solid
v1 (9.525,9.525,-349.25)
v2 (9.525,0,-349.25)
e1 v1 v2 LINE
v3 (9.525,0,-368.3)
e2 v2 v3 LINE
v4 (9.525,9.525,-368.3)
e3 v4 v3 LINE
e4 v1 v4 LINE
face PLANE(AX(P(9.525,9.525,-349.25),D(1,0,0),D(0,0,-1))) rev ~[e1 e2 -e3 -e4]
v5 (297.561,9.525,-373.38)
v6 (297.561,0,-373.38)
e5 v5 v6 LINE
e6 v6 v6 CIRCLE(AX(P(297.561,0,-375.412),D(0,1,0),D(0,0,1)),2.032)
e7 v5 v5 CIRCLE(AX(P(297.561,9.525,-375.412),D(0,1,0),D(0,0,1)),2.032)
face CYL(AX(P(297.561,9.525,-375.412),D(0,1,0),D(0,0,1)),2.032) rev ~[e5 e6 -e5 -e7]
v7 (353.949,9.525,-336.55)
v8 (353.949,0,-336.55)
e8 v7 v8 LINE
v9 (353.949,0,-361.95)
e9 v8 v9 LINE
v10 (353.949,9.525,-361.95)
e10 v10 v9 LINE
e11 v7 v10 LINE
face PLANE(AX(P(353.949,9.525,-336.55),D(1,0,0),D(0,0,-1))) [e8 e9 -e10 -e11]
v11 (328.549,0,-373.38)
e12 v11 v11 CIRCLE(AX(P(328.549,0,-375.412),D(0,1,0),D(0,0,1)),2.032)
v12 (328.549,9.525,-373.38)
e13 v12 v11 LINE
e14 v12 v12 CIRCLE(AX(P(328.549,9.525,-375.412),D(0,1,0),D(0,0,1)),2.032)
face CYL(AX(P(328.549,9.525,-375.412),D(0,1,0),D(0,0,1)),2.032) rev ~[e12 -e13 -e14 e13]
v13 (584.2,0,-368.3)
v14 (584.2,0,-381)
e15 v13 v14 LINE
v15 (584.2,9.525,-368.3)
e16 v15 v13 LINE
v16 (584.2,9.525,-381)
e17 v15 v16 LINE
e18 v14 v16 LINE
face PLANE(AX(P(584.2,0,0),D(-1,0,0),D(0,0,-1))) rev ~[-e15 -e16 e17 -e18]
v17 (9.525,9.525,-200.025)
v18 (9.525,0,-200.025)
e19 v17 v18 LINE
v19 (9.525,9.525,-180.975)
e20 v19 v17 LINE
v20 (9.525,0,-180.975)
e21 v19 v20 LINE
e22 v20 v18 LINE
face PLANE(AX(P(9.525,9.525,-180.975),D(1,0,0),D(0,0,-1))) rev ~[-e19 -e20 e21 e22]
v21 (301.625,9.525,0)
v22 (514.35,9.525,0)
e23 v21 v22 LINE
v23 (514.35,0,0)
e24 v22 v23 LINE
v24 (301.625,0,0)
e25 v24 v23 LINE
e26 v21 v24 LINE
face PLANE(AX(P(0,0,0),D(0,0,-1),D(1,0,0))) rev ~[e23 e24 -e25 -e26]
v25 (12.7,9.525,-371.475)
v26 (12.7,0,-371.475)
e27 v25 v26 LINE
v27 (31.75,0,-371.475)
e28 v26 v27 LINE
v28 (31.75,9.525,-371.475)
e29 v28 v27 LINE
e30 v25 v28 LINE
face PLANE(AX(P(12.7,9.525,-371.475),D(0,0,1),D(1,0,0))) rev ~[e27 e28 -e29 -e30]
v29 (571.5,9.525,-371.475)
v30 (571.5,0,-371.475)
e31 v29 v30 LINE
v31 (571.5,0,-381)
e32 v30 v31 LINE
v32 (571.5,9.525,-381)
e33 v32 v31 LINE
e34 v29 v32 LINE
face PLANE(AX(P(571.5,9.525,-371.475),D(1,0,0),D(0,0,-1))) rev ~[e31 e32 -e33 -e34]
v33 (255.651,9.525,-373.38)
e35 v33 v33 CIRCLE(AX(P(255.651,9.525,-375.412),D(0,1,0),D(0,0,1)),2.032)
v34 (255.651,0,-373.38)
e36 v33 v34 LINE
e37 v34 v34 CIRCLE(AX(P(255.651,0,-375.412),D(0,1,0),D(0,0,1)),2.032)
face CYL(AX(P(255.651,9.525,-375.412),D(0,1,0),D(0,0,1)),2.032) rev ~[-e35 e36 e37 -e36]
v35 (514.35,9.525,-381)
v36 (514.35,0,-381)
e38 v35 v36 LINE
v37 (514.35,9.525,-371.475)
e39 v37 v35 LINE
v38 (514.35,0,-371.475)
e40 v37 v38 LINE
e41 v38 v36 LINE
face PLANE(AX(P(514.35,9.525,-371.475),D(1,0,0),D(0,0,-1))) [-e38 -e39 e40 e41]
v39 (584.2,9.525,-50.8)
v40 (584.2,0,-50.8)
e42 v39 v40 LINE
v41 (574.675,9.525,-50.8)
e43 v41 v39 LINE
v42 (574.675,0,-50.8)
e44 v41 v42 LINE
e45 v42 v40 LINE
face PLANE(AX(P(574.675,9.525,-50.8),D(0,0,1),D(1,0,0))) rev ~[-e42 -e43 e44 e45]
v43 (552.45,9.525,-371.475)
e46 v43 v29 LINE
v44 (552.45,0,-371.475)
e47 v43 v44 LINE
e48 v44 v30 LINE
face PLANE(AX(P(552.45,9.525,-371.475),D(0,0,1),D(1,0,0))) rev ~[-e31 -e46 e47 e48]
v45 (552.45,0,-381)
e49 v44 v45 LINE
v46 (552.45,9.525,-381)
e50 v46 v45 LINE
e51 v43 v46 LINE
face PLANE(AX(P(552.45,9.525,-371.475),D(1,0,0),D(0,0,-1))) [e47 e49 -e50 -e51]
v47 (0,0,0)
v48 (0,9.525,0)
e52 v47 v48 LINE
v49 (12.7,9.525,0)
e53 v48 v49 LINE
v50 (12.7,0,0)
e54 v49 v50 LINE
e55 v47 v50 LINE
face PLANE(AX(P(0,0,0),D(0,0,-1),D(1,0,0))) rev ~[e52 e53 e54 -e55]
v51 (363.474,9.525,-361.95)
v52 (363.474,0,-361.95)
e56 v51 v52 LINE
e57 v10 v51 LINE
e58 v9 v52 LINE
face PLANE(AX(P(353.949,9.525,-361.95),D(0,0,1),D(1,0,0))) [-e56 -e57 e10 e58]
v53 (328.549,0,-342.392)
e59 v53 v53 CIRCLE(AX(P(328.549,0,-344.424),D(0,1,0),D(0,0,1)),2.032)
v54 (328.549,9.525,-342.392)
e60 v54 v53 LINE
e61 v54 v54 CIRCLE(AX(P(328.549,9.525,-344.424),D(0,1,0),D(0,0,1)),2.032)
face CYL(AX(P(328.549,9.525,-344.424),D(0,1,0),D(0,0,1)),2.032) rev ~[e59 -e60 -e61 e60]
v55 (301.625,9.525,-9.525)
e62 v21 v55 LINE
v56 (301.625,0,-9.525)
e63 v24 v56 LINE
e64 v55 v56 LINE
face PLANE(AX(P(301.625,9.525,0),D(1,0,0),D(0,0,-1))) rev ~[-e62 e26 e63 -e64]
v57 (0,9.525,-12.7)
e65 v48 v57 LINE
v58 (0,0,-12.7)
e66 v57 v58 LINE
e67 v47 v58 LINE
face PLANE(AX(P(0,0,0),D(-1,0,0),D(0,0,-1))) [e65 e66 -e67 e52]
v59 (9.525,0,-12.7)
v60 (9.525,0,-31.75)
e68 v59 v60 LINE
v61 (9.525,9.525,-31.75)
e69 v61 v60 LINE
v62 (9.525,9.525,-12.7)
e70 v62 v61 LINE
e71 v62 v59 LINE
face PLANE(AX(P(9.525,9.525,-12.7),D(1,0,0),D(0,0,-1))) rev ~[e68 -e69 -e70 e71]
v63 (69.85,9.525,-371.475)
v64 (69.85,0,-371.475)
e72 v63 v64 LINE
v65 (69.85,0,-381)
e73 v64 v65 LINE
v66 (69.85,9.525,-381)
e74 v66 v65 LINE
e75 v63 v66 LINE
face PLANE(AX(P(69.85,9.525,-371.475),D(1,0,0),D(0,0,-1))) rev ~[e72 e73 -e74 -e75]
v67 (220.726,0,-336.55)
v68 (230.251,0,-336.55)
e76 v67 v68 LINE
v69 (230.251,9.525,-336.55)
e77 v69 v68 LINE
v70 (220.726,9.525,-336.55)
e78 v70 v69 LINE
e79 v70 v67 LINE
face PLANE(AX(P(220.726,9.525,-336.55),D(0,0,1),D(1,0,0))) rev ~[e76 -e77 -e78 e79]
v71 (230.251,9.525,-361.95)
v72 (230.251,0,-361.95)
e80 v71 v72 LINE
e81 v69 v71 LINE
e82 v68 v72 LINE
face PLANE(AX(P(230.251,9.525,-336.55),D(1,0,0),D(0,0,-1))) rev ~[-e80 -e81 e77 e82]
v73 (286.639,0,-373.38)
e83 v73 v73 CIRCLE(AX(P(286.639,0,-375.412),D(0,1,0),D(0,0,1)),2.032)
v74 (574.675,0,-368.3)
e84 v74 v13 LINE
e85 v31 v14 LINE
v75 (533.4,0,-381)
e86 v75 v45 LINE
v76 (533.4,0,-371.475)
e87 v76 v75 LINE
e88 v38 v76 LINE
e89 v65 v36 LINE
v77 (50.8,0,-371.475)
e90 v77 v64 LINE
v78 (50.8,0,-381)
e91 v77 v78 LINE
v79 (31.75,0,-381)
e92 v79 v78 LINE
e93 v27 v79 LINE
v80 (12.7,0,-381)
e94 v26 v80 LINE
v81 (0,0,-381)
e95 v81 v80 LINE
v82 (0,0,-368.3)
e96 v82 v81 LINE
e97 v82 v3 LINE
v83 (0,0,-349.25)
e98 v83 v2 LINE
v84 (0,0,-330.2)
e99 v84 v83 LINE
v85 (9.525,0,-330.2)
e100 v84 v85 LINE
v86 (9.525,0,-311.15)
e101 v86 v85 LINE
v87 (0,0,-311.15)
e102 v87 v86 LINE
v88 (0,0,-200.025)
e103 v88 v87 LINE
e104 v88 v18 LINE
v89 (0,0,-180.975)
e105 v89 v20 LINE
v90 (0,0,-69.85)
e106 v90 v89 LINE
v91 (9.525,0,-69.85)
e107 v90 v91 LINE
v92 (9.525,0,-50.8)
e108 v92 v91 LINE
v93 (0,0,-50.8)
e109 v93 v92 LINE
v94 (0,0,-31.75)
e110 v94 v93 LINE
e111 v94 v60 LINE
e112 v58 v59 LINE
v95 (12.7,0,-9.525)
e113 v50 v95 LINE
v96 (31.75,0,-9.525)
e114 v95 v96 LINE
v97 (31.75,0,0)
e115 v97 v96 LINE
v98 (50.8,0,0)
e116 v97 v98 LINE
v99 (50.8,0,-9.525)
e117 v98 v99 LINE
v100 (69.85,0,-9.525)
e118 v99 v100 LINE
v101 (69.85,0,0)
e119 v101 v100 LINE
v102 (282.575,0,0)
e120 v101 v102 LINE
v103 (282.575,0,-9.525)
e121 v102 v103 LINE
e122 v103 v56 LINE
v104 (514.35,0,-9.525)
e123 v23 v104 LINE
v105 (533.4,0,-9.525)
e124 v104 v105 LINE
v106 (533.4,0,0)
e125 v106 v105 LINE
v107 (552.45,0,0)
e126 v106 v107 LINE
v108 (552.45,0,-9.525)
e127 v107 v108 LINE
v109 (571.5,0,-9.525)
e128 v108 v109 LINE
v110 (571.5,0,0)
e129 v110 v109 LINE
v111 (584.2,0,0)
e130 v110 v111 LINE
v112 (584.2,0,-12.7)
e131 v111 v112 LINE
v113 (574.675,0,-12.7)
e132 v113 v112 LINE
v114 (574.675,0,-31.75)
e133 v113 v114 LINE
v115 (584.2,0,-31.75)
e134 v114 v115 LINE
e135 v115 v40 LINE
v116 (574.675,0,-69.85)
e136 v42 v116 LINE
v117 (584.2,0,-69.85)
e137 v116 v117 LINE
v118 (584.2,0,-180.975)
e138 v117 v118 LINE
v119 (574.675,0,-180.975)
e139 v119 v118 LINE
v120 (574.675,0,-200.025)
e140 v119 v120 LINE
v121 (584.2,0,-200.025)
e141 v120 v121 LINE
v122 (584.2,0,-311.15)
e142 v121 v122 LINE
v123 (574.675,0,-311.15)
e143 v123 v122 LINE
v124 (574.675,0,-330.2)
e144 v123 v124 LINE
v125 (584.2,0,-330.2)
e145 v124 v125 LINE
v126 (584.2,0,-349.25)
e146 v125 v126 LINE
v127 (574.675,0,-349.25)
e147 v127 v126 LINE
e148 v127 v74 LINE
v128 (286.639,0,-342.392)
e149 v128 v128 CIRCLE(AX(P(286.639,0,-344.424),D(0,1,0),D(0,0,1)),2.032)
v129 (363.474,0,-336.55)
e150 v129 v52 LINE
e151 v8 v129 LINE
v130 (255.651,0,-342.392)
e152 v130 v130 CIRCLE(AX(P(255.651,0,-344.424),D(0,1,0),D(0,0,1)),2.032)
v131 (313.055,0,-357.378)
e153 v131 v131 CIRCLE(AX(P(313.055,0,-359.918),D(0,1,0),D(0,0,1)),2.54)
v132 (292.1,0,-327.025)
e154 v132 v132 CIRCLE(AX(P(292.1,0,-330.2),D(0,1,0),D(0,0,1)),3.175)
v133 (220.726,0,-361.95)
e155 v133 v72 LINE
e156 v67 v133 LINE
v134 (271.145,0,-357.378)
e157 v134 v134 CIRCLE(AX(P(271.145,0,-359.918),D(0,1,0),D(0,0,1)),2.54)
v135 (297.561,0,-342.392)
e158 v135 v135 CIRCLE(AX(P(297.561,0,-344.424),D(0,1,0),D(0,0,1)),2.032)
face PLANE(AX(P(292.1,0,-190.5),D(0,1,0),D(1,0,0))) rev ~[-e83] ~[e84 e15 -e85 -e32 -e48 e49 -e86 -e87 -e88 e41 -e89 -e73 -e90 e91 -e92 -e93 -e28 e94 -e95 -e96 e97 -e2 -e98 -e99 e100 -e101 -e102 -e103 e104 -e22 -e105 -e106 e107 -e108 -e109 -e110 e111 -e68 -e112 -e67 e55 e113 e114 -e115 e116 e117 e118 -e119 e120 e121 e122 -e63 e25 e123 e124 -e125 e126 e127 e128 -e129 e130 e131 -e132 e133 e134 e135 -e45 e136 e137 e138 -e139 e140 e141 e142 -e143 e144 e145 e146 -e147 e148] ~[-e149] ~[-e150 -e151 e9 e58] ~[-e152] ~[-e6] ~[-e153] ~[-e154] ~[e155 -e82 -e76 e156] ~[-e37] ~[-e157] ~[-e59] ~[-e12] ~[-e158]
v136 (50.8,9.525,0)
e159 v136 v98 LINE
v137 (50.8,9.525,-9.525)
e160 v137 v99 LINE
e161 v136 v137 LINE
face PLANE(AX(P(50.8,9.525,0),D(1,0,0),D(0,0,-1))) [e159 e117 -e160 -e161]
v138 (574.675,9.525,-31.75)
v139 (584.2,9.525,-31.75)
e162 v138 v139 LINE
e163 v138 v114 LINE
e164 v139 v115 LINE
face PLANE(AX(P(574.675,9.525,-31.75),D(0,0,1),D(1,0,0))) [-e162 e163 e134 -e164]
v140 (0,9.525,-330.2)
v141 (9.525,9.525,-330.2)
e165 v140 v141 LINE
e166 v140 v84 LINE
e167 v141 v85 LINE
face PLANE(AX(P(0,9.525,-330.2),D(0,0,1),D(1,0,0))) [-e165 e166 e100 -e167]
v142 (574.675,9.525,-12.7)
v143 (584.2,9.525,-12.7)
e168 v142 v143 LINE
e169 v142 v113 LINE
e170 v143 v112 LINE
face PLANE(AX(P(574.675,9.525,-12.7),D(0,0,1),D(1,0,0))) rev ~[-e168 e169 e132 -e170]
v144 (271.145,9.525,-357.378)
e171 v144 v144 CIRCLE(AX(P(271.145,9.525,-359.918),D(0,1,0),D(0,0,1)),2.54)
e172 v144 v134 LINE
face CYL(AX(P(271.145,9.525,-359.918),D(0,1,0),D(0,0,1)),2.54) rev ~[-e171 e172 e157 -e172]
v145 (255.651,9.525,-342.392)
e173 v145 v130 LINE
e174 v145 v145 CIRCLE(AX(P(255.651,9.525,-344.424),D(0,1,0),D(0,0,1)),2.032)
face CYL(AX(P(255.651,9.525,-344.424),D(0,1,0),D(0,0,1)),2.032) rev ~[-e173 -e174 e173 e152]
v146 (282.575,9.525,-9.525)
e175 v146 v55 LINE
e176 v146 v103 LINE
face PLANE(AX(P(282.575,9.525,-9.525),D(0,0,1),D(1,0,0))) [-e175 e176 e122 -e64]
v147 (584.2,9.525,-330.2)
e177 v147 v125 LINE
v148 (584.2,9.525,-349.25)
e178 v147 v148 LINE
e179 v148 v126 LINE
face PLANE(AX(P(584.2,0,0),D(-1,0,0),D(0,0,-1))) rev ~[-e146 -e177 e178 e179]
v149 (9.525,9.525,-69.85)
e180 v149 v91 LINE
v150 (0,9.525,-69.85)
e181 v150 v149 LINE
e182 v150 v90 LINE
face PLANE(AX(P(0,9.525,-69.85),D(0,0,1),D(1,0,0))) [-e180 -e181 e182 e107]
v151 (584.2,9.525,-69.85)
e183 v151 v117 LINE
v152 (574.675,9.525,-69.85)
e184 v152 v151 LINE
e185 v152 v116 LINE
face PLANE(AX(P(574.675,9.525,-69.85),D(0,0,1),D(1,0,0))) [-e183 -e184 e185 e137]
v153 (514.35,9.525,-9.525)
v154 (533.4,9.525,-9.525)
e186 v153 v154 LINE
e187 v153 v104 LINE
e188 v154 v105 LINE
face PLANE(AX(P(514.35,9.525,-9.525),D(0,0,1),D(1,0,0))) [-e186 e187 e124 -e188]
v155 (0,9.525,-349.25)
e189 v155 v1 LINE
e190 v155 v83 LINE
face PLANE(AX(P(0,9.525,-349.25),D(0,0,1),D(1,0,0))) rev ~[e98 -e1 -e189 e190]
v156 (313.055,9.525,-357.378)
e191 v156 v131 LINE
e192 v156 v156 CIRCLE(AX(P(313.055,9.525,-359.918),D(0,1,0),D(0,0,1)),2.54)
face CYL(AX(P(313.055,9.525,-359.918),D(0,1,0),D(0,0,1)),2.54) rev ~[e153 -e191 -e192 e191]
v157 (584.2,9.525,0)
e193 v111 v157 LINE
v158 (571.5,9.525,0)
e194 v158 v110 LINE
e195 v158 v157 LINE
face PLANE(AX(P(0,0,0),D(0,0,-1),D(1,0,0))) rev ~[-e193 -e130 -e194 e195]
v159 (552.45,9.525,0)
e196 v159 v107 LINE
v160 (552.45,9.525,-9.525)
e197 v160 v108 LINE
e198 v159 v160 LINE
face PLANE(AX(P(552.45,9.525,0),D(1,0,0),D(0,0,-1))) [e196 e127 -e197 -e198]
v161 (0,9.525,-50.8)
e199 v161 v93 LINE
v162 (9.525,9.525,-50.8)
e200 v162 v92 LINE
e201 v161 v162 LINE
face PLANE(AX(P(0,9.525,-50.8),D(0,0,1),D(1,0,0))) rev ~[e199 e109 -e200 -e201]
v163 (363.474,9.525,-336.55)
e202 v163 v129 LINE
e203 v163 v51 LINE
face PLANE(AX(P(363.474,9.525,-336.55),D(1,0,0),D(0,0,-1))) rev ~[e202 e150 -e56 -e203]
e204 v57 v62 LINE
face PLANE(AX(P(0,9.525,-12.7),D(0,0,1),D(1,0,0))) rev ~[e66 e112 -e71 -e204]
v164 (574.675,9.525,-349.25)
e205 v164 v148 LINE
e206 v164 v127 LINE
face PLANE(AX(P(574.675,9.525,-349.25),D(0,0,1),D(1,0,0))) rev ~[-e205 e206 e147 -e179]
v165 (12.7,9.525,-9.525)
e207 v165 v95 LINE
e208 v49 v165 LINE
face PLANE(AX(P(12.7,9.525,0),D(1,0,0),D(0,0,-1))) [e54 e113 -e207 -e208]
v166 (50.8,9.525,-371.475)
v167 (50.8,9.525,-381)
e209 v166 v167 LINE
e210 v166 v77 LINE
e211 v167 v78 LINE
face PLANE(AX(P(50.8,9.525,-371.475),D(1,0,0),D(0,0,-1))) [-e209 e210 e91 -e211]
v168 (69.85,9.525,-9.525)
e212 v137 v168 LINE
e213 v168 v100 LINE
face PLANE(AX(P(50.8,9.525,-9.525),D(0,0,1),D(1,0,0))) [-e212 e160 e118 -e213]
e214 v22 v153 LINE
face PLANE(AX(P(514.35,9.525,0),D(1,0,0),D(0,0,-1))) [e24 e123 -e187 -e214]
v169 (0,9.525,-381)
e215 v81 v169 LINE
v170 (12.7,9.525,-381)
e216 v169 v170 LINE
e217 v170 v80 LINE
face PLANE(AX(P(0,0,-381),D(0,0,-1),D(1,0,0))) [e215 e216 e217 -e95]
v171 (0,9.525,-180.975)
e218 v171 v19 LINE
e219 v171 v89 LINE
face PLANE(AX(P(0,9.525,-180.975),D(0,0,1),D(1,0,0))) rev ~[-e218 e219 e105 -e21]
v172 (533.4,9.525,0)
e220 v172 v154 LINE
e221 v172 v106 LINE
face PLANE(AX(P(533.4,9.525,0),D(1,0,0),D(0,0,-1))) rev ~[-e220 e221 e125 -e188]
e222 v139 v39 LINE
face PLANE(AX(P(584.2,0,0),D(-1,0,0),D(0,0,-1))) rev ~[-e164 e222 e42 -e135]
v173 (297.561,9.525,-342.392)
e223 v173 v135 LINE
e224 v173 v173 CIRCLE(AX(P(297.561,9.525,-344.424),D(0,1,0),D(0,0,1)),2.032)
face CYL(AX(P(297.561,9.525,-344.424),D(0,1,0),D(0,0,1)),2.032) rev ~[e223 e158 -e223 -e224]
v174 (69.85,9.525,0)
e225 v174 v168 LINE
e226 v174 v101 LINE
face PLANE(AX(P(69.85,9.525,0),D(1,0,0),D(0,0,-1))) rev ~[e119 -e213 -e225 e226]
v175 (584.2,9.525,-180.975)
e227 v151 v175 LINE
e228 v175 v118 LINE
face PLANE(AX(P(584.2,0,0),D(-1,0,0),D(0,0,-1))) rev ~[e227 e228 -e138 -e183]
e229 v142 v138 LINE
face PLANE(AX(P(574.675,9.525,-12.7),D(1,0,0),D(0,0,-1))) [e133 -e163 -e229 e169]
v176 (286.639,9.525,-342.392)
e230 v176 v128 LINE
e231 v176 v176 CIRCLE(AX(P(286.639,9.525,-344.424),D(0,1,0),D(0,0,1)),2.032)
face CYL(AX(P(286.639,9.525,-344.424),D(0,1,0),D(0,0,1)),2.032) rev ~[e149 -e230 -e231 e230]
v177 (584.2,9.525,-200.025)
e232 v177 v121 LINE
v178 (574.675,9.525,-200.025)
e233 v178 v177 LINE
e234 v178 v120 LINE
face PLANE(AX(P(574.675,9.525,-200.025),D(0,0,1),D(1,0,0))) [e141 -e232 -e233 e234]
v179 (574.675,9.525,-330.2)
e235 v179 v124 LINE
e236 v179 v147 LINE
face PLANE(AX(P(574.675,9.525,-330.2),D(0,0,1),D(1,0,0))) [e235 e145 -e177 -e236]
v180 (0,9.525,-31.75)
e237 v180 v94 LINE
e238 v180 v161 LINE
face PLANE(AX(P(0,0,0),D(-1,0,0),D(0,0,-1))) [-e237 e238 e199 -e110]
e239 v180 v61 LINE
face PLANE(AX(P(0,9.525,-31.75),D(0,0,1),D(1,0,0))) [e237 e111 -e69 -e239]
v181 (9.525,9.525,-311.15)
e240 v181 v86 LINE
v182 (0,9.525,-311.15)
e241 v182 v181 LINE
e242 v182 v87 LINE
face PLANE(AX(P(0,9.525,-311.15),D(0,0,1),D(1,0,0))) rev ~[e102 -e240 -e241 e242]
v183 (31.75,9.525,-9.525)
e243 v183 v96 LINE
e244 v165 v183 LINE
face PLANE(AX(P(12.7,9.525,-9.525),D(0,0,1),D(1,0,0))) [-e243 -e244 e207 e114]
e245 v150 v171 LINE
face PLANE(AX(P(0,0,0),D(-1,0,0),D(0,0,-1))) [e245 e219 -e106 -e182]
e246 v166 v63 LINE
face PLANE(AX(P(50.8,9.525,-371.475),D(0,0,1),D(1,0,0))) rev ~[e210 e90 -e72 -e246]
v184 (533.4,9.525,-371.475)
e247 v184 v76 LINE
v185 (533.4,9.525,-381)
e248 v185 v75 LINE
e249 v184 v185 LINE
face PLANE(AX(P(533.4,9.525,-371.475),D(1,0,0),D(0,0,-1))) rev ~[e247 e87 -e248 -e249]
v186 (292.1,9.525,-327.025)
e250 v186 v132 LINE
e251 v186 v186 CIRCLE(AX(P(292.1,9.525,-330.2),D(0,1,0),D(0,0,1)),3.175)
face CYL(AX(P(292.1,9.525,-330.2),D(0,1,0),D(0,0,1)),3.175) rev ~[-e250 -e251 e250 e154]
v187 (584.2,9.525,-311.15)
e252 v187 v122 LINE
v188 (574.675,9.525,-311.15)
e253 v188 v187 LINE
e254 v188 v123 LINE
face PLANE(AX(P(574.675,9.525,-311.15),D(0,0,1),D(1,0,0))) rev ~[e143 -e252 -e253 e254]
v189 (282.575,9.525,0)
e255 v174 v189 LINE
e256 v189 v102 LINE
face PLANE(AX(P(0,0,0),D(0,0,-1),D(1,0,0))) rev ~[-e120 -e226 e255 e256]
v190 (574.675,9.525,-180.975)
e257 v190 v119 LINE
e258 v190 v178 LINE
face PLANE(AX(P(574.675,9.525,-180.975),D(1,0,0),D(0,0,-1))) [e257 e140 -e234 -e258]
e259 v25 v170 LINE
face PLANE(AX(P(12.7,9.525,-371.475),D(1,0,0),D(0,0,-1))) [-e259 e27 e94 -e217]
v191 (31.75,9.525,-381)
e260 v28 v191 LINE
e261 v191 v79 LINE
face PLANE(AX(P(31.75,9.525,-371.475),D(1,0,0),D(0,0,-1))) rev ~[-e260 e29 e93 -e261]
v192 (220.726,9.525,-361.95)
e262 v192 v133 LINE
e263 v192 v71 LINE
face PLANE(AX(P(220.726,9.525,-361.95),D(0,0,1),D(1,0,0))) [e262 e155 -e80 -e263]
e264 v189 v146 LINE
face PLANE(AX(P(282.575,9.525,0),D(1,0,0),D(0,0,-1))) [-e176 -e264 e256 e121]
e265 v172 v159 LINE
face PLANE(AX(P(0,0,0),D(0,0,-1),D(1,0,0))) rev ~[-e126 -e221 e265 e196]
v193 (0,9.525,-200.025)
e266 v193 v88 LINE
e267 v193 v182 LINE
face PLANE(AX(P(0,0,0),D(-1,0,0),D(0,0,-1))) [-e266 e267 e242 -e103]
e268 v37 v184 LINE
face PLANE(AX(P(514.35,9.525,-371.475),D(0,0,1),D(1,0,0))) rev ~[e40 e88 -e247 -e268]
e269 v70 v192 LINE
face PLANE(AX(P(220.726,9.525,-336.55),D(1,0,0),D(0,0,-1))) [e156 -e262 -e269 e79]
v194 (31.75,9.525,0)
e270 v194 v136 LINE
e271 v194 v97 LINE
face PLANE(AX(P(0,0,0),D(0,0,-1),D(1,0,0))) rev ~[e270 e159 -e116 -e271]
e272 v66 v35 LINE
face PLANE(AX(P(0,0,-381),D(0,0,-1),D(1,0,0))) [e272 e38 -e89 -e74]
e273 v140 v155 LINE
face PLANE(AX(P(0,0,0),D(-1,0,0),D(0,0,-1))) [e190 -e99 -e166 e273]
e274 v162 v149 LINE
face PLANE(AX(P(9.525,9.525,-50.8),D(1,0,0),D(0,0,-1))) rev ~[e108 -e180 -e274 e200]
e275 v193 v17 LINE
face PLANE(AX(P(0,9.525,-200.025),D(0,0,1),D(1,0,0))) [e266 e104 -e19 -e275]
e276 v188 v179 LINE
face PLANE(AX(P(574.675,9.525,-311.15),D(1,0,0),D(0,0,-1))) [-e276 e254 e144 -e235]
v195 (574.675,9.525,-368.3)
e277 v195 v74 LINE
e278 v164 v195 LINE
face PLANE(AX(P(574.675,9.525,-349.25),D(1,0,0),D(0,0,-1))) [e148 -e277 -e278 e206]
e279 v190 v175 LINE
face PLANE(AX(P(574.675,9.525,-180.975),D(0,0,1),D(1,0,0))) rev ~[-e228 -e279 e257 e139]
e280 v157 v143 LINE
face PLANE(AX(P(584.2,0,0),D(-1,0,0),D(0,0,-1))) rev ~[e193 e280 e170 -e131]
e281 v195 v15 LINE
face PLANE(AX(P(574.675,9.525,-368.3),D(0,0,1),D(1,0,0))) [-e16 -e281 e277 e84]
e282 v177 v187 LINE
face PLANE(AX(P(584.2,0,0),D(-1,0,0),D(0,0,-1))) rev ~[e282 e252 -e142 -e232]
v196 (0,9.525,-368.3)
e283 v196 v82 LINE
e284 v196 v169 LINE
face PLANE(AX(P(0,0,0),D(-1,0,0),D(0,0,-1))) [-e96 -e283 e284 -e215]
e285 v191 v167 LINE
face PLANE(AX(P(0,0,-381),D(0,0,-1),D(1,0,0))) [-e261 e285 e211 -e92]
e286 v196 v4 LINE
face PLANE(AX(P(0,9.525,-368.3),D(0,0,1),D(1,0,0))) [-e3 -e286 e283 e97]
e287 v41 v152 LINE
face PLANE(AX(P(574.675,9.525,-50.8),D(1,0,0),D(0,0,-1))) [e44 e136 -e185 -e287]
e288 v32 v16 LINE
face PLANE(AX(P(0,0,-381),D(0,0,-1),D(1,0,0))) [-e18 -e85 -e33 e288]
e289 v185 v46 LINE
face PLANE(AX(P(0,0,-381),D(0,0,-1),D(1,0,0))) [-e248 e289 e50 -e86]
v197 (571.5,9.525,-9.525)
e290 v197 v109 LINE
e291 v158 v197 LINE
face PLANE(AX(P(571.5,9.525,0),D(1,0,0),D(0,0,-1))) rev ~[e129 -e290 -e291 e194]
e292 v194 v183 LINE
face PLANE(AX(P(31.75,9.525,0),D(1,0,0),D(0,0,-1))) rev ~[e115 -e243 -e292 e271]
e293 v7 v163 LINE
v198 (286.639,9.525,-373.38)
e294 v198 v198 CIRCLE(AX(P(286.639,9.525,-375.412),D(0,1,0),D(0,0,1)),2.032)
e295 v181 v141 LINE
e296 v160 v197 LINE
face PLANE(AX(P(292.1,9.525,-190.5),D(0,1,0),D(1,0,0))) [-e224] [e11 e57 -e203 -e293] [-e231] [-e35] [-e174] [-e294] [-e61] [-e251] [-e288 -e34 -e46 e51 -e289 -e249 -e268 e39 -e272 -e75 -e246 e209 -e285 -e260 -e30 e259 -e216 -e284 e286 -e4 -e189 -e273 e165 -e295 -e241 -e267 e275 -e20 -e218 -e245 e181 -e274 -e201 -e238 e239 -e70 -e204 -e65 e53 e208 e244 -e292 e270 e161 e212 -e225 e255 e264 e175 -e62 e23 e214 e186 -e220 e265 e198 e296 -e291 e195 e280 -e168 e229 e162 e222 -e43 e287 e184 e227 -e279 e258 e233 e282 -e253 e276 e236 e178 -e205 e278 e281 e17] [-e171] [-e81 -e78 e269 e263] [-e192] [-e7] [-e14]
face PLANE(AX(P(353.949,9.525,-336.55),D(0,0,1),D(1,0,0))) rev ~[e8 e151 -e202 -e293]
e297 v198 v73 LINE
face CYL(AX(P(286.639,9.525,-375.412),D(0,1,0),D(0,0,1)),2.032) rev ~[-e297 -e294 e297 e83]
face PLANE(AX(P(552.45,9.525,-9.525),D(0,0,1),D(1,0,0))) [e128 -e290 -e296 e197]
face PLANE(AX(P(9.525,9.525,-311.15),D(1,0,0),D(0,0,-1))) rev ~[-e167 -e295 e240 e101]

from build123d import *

# Parameters (mm, degrees)
SKETCH1_W           = 584.2
SKETCH1_H           = 381
BOSS_EXTRUDE1_DEPTH = 9.525
SKETCH2_W           = 9.525
SKETCH2_H           = 19.05
SKETCH2_W_2         = 19.05
SKETCH2_H_2         = 9.525
CUT_EXTRUDE1_DEPTH  = 698.525172037
SKETCH3_R           = 2.032
SKETCH3_R_2         = 2.54
SKETCH3_R_3         = 3.175
SKETCH3_W           = 9.525
SKETCH3_H           = 25.4
CUT_EXTRUDE2_DEPTH  = 698.525172037


with BuildPart() as part:
    # Sketch1 → Boss-Extrude1 (new body)
    with BuildSketch(Plane(origin=(0, 0, 0), x_dir=(1, 0, 0), z_dir=(0, 1, 0))):
        with Locations((292.1, 190.5)):
            Rectangle(SKETCH1_W, SKETCH1_H)
    extrude(amount=BOSS_EXTRUDE1_DEPTH)

    # Sketch2 → Cut-Extrude1 (cut, through all)
    with BuildSketch(Plane(origin=(0, 9.525, 0), x_dir=(1, 0, 0), z_dir=(0, 1, 0))):
        with Locations((4.7625, 358.775)):
            Rectangle(SKETCH2_W, SKETCH2_H)
        with Locations((22.225, 376.2375)):
            Rectangle(SKETCH2_W_2, SKETCH2_H_2)
        with Locations((561.975, 376.2375)):
            Rectangle(SKETCH2_W_2, SKETCH2_H_2)
        with Locations((579.4375, 358.775)):
            Rectangle(SKETCH2_W, SKETCH2_H)
        with Locations((579.4375, 22.225)):
            Rectangle(SKETCH2_W, SKETCH2_H)
        with Locations((561.975, 4.7625)):
            Rectangle(SKETCH2_W_2, SKETCH2_H_2)
        with Locations((4.7625, 22.225)):
            Rectangle(SKETCH2_W, SKETCH2_H)
        with Locations((22.225, 4.7625)):
            Rectangle(SKETCH2_W_2, SKETCH2_H_2)
        with Locations((292.1, 4.7625)):
            Rectangle(SKETCH2_W_2, SKETCH2_H_2)
        with Locations((4.7625, 190.5)):
            Rectangle(SKETCH2_W, SKETCH2_H)
        with Locations((579.4375, 190.5)):
            Rectangle(SKETCH2_W, SKETCH2_H)
        with Locations((60.325, 376.2375)):
            Rectangle(SKETCH2_W_2, SKETCH2_H_2)
        with Locations((4.7625, 320.675)):
            Rectangle(SKETCH2_W, SKETCH2_H)
        with Locations((523.875, 376.2375)):
            Rectangle(SKETCH2_W_2, SKETCH2_H_2)
        with Locations((579.4375, 320.675)):
            Rectangle(SKETCH2_W, SKETCH2_H)
        with Locations((579.4375, 60.325)):
            Rectangle(SKETCH2_W, SKETCH2_H)
        with Locations((523.875, 4.7625)):
            Rectangle(SKETCH2_W_2, SKETCH2_H_2)
        with Locations((4.7625, 60.325)):
            Rectangle(SKETCH2_W, SKETCH2_H)
        with Locations((60.325, 4.7625)):
            Rectangle(SKETCH2_W_2, SKETCH2_H_2)
    extrude(amount=-CUT_EXTRUDE1_DEPTH, mode=Mode.SUBTRACT)

    # Sketch3 → Cut-Extrude2 (cut, through all)
    with BuildSketch(Plane(origin=(0, 9.525, 0), x_dir=(1, 0, 0), z_dir=(0, 1, 0))):
        with Locations(Location((255.651, 375.412, 0), (0, 0, 270))):
            Circle(SKETCH3_R)
        with Locations(Location((328.549, 375.412, 0), (0, 0, 270))):
            Circle(SKETCH3_R)
        with Locations(Location((286.639, 375.412, 0), (0, 0, 270))):
            Circle(SKETCH3_R)
        with Locations(Location((297.561, 375.412, 0), (0, 0, 270))):
            Circle(SKETCH3_R)
        with Locations(Location((255.651, 344.424, 0), (0, 0, 270))):
            Circle(SKETCH3_R)
        with Locations(Location((286.639, 344.424, 0), (0, 0, 270))):
            Circle(SKETCH3_R)
        with Locations(Location((297.561, 344.424, 0), (0, 0, 270))):
            Circle(SKETCH3_R)
        with Locations(Location((328.549, 344.424, 0), (0, 0, 270))):
            Circle(SKETCH3_R)
        with Locations(Location((271.145, 359.918, 0), (0, 0, 270))):
            Circle(SKETCH3_R_2)
        with Locations(Location((313.055, 359.918, 0), (0, 0, 270))):
            Circle(SKETCH3_R_2)
        with Locations(Location((292.1, 330.2, 0), (0, 0, 270))):
            Circle(SKETCH3_R_3)
        with Locations((358.7115, 349.25)):
            Rectangle(SKETCH3_W, SKETCH3_H)
        with Locations((225.4885, 349.25)):
            Rectangle(SKETCH3_W, SKETCH3_H)
    extrude(amount=-CUT_EXTRUDE2_DEPTH, mode=Mode.SUBTRACT)


solid = part.part
